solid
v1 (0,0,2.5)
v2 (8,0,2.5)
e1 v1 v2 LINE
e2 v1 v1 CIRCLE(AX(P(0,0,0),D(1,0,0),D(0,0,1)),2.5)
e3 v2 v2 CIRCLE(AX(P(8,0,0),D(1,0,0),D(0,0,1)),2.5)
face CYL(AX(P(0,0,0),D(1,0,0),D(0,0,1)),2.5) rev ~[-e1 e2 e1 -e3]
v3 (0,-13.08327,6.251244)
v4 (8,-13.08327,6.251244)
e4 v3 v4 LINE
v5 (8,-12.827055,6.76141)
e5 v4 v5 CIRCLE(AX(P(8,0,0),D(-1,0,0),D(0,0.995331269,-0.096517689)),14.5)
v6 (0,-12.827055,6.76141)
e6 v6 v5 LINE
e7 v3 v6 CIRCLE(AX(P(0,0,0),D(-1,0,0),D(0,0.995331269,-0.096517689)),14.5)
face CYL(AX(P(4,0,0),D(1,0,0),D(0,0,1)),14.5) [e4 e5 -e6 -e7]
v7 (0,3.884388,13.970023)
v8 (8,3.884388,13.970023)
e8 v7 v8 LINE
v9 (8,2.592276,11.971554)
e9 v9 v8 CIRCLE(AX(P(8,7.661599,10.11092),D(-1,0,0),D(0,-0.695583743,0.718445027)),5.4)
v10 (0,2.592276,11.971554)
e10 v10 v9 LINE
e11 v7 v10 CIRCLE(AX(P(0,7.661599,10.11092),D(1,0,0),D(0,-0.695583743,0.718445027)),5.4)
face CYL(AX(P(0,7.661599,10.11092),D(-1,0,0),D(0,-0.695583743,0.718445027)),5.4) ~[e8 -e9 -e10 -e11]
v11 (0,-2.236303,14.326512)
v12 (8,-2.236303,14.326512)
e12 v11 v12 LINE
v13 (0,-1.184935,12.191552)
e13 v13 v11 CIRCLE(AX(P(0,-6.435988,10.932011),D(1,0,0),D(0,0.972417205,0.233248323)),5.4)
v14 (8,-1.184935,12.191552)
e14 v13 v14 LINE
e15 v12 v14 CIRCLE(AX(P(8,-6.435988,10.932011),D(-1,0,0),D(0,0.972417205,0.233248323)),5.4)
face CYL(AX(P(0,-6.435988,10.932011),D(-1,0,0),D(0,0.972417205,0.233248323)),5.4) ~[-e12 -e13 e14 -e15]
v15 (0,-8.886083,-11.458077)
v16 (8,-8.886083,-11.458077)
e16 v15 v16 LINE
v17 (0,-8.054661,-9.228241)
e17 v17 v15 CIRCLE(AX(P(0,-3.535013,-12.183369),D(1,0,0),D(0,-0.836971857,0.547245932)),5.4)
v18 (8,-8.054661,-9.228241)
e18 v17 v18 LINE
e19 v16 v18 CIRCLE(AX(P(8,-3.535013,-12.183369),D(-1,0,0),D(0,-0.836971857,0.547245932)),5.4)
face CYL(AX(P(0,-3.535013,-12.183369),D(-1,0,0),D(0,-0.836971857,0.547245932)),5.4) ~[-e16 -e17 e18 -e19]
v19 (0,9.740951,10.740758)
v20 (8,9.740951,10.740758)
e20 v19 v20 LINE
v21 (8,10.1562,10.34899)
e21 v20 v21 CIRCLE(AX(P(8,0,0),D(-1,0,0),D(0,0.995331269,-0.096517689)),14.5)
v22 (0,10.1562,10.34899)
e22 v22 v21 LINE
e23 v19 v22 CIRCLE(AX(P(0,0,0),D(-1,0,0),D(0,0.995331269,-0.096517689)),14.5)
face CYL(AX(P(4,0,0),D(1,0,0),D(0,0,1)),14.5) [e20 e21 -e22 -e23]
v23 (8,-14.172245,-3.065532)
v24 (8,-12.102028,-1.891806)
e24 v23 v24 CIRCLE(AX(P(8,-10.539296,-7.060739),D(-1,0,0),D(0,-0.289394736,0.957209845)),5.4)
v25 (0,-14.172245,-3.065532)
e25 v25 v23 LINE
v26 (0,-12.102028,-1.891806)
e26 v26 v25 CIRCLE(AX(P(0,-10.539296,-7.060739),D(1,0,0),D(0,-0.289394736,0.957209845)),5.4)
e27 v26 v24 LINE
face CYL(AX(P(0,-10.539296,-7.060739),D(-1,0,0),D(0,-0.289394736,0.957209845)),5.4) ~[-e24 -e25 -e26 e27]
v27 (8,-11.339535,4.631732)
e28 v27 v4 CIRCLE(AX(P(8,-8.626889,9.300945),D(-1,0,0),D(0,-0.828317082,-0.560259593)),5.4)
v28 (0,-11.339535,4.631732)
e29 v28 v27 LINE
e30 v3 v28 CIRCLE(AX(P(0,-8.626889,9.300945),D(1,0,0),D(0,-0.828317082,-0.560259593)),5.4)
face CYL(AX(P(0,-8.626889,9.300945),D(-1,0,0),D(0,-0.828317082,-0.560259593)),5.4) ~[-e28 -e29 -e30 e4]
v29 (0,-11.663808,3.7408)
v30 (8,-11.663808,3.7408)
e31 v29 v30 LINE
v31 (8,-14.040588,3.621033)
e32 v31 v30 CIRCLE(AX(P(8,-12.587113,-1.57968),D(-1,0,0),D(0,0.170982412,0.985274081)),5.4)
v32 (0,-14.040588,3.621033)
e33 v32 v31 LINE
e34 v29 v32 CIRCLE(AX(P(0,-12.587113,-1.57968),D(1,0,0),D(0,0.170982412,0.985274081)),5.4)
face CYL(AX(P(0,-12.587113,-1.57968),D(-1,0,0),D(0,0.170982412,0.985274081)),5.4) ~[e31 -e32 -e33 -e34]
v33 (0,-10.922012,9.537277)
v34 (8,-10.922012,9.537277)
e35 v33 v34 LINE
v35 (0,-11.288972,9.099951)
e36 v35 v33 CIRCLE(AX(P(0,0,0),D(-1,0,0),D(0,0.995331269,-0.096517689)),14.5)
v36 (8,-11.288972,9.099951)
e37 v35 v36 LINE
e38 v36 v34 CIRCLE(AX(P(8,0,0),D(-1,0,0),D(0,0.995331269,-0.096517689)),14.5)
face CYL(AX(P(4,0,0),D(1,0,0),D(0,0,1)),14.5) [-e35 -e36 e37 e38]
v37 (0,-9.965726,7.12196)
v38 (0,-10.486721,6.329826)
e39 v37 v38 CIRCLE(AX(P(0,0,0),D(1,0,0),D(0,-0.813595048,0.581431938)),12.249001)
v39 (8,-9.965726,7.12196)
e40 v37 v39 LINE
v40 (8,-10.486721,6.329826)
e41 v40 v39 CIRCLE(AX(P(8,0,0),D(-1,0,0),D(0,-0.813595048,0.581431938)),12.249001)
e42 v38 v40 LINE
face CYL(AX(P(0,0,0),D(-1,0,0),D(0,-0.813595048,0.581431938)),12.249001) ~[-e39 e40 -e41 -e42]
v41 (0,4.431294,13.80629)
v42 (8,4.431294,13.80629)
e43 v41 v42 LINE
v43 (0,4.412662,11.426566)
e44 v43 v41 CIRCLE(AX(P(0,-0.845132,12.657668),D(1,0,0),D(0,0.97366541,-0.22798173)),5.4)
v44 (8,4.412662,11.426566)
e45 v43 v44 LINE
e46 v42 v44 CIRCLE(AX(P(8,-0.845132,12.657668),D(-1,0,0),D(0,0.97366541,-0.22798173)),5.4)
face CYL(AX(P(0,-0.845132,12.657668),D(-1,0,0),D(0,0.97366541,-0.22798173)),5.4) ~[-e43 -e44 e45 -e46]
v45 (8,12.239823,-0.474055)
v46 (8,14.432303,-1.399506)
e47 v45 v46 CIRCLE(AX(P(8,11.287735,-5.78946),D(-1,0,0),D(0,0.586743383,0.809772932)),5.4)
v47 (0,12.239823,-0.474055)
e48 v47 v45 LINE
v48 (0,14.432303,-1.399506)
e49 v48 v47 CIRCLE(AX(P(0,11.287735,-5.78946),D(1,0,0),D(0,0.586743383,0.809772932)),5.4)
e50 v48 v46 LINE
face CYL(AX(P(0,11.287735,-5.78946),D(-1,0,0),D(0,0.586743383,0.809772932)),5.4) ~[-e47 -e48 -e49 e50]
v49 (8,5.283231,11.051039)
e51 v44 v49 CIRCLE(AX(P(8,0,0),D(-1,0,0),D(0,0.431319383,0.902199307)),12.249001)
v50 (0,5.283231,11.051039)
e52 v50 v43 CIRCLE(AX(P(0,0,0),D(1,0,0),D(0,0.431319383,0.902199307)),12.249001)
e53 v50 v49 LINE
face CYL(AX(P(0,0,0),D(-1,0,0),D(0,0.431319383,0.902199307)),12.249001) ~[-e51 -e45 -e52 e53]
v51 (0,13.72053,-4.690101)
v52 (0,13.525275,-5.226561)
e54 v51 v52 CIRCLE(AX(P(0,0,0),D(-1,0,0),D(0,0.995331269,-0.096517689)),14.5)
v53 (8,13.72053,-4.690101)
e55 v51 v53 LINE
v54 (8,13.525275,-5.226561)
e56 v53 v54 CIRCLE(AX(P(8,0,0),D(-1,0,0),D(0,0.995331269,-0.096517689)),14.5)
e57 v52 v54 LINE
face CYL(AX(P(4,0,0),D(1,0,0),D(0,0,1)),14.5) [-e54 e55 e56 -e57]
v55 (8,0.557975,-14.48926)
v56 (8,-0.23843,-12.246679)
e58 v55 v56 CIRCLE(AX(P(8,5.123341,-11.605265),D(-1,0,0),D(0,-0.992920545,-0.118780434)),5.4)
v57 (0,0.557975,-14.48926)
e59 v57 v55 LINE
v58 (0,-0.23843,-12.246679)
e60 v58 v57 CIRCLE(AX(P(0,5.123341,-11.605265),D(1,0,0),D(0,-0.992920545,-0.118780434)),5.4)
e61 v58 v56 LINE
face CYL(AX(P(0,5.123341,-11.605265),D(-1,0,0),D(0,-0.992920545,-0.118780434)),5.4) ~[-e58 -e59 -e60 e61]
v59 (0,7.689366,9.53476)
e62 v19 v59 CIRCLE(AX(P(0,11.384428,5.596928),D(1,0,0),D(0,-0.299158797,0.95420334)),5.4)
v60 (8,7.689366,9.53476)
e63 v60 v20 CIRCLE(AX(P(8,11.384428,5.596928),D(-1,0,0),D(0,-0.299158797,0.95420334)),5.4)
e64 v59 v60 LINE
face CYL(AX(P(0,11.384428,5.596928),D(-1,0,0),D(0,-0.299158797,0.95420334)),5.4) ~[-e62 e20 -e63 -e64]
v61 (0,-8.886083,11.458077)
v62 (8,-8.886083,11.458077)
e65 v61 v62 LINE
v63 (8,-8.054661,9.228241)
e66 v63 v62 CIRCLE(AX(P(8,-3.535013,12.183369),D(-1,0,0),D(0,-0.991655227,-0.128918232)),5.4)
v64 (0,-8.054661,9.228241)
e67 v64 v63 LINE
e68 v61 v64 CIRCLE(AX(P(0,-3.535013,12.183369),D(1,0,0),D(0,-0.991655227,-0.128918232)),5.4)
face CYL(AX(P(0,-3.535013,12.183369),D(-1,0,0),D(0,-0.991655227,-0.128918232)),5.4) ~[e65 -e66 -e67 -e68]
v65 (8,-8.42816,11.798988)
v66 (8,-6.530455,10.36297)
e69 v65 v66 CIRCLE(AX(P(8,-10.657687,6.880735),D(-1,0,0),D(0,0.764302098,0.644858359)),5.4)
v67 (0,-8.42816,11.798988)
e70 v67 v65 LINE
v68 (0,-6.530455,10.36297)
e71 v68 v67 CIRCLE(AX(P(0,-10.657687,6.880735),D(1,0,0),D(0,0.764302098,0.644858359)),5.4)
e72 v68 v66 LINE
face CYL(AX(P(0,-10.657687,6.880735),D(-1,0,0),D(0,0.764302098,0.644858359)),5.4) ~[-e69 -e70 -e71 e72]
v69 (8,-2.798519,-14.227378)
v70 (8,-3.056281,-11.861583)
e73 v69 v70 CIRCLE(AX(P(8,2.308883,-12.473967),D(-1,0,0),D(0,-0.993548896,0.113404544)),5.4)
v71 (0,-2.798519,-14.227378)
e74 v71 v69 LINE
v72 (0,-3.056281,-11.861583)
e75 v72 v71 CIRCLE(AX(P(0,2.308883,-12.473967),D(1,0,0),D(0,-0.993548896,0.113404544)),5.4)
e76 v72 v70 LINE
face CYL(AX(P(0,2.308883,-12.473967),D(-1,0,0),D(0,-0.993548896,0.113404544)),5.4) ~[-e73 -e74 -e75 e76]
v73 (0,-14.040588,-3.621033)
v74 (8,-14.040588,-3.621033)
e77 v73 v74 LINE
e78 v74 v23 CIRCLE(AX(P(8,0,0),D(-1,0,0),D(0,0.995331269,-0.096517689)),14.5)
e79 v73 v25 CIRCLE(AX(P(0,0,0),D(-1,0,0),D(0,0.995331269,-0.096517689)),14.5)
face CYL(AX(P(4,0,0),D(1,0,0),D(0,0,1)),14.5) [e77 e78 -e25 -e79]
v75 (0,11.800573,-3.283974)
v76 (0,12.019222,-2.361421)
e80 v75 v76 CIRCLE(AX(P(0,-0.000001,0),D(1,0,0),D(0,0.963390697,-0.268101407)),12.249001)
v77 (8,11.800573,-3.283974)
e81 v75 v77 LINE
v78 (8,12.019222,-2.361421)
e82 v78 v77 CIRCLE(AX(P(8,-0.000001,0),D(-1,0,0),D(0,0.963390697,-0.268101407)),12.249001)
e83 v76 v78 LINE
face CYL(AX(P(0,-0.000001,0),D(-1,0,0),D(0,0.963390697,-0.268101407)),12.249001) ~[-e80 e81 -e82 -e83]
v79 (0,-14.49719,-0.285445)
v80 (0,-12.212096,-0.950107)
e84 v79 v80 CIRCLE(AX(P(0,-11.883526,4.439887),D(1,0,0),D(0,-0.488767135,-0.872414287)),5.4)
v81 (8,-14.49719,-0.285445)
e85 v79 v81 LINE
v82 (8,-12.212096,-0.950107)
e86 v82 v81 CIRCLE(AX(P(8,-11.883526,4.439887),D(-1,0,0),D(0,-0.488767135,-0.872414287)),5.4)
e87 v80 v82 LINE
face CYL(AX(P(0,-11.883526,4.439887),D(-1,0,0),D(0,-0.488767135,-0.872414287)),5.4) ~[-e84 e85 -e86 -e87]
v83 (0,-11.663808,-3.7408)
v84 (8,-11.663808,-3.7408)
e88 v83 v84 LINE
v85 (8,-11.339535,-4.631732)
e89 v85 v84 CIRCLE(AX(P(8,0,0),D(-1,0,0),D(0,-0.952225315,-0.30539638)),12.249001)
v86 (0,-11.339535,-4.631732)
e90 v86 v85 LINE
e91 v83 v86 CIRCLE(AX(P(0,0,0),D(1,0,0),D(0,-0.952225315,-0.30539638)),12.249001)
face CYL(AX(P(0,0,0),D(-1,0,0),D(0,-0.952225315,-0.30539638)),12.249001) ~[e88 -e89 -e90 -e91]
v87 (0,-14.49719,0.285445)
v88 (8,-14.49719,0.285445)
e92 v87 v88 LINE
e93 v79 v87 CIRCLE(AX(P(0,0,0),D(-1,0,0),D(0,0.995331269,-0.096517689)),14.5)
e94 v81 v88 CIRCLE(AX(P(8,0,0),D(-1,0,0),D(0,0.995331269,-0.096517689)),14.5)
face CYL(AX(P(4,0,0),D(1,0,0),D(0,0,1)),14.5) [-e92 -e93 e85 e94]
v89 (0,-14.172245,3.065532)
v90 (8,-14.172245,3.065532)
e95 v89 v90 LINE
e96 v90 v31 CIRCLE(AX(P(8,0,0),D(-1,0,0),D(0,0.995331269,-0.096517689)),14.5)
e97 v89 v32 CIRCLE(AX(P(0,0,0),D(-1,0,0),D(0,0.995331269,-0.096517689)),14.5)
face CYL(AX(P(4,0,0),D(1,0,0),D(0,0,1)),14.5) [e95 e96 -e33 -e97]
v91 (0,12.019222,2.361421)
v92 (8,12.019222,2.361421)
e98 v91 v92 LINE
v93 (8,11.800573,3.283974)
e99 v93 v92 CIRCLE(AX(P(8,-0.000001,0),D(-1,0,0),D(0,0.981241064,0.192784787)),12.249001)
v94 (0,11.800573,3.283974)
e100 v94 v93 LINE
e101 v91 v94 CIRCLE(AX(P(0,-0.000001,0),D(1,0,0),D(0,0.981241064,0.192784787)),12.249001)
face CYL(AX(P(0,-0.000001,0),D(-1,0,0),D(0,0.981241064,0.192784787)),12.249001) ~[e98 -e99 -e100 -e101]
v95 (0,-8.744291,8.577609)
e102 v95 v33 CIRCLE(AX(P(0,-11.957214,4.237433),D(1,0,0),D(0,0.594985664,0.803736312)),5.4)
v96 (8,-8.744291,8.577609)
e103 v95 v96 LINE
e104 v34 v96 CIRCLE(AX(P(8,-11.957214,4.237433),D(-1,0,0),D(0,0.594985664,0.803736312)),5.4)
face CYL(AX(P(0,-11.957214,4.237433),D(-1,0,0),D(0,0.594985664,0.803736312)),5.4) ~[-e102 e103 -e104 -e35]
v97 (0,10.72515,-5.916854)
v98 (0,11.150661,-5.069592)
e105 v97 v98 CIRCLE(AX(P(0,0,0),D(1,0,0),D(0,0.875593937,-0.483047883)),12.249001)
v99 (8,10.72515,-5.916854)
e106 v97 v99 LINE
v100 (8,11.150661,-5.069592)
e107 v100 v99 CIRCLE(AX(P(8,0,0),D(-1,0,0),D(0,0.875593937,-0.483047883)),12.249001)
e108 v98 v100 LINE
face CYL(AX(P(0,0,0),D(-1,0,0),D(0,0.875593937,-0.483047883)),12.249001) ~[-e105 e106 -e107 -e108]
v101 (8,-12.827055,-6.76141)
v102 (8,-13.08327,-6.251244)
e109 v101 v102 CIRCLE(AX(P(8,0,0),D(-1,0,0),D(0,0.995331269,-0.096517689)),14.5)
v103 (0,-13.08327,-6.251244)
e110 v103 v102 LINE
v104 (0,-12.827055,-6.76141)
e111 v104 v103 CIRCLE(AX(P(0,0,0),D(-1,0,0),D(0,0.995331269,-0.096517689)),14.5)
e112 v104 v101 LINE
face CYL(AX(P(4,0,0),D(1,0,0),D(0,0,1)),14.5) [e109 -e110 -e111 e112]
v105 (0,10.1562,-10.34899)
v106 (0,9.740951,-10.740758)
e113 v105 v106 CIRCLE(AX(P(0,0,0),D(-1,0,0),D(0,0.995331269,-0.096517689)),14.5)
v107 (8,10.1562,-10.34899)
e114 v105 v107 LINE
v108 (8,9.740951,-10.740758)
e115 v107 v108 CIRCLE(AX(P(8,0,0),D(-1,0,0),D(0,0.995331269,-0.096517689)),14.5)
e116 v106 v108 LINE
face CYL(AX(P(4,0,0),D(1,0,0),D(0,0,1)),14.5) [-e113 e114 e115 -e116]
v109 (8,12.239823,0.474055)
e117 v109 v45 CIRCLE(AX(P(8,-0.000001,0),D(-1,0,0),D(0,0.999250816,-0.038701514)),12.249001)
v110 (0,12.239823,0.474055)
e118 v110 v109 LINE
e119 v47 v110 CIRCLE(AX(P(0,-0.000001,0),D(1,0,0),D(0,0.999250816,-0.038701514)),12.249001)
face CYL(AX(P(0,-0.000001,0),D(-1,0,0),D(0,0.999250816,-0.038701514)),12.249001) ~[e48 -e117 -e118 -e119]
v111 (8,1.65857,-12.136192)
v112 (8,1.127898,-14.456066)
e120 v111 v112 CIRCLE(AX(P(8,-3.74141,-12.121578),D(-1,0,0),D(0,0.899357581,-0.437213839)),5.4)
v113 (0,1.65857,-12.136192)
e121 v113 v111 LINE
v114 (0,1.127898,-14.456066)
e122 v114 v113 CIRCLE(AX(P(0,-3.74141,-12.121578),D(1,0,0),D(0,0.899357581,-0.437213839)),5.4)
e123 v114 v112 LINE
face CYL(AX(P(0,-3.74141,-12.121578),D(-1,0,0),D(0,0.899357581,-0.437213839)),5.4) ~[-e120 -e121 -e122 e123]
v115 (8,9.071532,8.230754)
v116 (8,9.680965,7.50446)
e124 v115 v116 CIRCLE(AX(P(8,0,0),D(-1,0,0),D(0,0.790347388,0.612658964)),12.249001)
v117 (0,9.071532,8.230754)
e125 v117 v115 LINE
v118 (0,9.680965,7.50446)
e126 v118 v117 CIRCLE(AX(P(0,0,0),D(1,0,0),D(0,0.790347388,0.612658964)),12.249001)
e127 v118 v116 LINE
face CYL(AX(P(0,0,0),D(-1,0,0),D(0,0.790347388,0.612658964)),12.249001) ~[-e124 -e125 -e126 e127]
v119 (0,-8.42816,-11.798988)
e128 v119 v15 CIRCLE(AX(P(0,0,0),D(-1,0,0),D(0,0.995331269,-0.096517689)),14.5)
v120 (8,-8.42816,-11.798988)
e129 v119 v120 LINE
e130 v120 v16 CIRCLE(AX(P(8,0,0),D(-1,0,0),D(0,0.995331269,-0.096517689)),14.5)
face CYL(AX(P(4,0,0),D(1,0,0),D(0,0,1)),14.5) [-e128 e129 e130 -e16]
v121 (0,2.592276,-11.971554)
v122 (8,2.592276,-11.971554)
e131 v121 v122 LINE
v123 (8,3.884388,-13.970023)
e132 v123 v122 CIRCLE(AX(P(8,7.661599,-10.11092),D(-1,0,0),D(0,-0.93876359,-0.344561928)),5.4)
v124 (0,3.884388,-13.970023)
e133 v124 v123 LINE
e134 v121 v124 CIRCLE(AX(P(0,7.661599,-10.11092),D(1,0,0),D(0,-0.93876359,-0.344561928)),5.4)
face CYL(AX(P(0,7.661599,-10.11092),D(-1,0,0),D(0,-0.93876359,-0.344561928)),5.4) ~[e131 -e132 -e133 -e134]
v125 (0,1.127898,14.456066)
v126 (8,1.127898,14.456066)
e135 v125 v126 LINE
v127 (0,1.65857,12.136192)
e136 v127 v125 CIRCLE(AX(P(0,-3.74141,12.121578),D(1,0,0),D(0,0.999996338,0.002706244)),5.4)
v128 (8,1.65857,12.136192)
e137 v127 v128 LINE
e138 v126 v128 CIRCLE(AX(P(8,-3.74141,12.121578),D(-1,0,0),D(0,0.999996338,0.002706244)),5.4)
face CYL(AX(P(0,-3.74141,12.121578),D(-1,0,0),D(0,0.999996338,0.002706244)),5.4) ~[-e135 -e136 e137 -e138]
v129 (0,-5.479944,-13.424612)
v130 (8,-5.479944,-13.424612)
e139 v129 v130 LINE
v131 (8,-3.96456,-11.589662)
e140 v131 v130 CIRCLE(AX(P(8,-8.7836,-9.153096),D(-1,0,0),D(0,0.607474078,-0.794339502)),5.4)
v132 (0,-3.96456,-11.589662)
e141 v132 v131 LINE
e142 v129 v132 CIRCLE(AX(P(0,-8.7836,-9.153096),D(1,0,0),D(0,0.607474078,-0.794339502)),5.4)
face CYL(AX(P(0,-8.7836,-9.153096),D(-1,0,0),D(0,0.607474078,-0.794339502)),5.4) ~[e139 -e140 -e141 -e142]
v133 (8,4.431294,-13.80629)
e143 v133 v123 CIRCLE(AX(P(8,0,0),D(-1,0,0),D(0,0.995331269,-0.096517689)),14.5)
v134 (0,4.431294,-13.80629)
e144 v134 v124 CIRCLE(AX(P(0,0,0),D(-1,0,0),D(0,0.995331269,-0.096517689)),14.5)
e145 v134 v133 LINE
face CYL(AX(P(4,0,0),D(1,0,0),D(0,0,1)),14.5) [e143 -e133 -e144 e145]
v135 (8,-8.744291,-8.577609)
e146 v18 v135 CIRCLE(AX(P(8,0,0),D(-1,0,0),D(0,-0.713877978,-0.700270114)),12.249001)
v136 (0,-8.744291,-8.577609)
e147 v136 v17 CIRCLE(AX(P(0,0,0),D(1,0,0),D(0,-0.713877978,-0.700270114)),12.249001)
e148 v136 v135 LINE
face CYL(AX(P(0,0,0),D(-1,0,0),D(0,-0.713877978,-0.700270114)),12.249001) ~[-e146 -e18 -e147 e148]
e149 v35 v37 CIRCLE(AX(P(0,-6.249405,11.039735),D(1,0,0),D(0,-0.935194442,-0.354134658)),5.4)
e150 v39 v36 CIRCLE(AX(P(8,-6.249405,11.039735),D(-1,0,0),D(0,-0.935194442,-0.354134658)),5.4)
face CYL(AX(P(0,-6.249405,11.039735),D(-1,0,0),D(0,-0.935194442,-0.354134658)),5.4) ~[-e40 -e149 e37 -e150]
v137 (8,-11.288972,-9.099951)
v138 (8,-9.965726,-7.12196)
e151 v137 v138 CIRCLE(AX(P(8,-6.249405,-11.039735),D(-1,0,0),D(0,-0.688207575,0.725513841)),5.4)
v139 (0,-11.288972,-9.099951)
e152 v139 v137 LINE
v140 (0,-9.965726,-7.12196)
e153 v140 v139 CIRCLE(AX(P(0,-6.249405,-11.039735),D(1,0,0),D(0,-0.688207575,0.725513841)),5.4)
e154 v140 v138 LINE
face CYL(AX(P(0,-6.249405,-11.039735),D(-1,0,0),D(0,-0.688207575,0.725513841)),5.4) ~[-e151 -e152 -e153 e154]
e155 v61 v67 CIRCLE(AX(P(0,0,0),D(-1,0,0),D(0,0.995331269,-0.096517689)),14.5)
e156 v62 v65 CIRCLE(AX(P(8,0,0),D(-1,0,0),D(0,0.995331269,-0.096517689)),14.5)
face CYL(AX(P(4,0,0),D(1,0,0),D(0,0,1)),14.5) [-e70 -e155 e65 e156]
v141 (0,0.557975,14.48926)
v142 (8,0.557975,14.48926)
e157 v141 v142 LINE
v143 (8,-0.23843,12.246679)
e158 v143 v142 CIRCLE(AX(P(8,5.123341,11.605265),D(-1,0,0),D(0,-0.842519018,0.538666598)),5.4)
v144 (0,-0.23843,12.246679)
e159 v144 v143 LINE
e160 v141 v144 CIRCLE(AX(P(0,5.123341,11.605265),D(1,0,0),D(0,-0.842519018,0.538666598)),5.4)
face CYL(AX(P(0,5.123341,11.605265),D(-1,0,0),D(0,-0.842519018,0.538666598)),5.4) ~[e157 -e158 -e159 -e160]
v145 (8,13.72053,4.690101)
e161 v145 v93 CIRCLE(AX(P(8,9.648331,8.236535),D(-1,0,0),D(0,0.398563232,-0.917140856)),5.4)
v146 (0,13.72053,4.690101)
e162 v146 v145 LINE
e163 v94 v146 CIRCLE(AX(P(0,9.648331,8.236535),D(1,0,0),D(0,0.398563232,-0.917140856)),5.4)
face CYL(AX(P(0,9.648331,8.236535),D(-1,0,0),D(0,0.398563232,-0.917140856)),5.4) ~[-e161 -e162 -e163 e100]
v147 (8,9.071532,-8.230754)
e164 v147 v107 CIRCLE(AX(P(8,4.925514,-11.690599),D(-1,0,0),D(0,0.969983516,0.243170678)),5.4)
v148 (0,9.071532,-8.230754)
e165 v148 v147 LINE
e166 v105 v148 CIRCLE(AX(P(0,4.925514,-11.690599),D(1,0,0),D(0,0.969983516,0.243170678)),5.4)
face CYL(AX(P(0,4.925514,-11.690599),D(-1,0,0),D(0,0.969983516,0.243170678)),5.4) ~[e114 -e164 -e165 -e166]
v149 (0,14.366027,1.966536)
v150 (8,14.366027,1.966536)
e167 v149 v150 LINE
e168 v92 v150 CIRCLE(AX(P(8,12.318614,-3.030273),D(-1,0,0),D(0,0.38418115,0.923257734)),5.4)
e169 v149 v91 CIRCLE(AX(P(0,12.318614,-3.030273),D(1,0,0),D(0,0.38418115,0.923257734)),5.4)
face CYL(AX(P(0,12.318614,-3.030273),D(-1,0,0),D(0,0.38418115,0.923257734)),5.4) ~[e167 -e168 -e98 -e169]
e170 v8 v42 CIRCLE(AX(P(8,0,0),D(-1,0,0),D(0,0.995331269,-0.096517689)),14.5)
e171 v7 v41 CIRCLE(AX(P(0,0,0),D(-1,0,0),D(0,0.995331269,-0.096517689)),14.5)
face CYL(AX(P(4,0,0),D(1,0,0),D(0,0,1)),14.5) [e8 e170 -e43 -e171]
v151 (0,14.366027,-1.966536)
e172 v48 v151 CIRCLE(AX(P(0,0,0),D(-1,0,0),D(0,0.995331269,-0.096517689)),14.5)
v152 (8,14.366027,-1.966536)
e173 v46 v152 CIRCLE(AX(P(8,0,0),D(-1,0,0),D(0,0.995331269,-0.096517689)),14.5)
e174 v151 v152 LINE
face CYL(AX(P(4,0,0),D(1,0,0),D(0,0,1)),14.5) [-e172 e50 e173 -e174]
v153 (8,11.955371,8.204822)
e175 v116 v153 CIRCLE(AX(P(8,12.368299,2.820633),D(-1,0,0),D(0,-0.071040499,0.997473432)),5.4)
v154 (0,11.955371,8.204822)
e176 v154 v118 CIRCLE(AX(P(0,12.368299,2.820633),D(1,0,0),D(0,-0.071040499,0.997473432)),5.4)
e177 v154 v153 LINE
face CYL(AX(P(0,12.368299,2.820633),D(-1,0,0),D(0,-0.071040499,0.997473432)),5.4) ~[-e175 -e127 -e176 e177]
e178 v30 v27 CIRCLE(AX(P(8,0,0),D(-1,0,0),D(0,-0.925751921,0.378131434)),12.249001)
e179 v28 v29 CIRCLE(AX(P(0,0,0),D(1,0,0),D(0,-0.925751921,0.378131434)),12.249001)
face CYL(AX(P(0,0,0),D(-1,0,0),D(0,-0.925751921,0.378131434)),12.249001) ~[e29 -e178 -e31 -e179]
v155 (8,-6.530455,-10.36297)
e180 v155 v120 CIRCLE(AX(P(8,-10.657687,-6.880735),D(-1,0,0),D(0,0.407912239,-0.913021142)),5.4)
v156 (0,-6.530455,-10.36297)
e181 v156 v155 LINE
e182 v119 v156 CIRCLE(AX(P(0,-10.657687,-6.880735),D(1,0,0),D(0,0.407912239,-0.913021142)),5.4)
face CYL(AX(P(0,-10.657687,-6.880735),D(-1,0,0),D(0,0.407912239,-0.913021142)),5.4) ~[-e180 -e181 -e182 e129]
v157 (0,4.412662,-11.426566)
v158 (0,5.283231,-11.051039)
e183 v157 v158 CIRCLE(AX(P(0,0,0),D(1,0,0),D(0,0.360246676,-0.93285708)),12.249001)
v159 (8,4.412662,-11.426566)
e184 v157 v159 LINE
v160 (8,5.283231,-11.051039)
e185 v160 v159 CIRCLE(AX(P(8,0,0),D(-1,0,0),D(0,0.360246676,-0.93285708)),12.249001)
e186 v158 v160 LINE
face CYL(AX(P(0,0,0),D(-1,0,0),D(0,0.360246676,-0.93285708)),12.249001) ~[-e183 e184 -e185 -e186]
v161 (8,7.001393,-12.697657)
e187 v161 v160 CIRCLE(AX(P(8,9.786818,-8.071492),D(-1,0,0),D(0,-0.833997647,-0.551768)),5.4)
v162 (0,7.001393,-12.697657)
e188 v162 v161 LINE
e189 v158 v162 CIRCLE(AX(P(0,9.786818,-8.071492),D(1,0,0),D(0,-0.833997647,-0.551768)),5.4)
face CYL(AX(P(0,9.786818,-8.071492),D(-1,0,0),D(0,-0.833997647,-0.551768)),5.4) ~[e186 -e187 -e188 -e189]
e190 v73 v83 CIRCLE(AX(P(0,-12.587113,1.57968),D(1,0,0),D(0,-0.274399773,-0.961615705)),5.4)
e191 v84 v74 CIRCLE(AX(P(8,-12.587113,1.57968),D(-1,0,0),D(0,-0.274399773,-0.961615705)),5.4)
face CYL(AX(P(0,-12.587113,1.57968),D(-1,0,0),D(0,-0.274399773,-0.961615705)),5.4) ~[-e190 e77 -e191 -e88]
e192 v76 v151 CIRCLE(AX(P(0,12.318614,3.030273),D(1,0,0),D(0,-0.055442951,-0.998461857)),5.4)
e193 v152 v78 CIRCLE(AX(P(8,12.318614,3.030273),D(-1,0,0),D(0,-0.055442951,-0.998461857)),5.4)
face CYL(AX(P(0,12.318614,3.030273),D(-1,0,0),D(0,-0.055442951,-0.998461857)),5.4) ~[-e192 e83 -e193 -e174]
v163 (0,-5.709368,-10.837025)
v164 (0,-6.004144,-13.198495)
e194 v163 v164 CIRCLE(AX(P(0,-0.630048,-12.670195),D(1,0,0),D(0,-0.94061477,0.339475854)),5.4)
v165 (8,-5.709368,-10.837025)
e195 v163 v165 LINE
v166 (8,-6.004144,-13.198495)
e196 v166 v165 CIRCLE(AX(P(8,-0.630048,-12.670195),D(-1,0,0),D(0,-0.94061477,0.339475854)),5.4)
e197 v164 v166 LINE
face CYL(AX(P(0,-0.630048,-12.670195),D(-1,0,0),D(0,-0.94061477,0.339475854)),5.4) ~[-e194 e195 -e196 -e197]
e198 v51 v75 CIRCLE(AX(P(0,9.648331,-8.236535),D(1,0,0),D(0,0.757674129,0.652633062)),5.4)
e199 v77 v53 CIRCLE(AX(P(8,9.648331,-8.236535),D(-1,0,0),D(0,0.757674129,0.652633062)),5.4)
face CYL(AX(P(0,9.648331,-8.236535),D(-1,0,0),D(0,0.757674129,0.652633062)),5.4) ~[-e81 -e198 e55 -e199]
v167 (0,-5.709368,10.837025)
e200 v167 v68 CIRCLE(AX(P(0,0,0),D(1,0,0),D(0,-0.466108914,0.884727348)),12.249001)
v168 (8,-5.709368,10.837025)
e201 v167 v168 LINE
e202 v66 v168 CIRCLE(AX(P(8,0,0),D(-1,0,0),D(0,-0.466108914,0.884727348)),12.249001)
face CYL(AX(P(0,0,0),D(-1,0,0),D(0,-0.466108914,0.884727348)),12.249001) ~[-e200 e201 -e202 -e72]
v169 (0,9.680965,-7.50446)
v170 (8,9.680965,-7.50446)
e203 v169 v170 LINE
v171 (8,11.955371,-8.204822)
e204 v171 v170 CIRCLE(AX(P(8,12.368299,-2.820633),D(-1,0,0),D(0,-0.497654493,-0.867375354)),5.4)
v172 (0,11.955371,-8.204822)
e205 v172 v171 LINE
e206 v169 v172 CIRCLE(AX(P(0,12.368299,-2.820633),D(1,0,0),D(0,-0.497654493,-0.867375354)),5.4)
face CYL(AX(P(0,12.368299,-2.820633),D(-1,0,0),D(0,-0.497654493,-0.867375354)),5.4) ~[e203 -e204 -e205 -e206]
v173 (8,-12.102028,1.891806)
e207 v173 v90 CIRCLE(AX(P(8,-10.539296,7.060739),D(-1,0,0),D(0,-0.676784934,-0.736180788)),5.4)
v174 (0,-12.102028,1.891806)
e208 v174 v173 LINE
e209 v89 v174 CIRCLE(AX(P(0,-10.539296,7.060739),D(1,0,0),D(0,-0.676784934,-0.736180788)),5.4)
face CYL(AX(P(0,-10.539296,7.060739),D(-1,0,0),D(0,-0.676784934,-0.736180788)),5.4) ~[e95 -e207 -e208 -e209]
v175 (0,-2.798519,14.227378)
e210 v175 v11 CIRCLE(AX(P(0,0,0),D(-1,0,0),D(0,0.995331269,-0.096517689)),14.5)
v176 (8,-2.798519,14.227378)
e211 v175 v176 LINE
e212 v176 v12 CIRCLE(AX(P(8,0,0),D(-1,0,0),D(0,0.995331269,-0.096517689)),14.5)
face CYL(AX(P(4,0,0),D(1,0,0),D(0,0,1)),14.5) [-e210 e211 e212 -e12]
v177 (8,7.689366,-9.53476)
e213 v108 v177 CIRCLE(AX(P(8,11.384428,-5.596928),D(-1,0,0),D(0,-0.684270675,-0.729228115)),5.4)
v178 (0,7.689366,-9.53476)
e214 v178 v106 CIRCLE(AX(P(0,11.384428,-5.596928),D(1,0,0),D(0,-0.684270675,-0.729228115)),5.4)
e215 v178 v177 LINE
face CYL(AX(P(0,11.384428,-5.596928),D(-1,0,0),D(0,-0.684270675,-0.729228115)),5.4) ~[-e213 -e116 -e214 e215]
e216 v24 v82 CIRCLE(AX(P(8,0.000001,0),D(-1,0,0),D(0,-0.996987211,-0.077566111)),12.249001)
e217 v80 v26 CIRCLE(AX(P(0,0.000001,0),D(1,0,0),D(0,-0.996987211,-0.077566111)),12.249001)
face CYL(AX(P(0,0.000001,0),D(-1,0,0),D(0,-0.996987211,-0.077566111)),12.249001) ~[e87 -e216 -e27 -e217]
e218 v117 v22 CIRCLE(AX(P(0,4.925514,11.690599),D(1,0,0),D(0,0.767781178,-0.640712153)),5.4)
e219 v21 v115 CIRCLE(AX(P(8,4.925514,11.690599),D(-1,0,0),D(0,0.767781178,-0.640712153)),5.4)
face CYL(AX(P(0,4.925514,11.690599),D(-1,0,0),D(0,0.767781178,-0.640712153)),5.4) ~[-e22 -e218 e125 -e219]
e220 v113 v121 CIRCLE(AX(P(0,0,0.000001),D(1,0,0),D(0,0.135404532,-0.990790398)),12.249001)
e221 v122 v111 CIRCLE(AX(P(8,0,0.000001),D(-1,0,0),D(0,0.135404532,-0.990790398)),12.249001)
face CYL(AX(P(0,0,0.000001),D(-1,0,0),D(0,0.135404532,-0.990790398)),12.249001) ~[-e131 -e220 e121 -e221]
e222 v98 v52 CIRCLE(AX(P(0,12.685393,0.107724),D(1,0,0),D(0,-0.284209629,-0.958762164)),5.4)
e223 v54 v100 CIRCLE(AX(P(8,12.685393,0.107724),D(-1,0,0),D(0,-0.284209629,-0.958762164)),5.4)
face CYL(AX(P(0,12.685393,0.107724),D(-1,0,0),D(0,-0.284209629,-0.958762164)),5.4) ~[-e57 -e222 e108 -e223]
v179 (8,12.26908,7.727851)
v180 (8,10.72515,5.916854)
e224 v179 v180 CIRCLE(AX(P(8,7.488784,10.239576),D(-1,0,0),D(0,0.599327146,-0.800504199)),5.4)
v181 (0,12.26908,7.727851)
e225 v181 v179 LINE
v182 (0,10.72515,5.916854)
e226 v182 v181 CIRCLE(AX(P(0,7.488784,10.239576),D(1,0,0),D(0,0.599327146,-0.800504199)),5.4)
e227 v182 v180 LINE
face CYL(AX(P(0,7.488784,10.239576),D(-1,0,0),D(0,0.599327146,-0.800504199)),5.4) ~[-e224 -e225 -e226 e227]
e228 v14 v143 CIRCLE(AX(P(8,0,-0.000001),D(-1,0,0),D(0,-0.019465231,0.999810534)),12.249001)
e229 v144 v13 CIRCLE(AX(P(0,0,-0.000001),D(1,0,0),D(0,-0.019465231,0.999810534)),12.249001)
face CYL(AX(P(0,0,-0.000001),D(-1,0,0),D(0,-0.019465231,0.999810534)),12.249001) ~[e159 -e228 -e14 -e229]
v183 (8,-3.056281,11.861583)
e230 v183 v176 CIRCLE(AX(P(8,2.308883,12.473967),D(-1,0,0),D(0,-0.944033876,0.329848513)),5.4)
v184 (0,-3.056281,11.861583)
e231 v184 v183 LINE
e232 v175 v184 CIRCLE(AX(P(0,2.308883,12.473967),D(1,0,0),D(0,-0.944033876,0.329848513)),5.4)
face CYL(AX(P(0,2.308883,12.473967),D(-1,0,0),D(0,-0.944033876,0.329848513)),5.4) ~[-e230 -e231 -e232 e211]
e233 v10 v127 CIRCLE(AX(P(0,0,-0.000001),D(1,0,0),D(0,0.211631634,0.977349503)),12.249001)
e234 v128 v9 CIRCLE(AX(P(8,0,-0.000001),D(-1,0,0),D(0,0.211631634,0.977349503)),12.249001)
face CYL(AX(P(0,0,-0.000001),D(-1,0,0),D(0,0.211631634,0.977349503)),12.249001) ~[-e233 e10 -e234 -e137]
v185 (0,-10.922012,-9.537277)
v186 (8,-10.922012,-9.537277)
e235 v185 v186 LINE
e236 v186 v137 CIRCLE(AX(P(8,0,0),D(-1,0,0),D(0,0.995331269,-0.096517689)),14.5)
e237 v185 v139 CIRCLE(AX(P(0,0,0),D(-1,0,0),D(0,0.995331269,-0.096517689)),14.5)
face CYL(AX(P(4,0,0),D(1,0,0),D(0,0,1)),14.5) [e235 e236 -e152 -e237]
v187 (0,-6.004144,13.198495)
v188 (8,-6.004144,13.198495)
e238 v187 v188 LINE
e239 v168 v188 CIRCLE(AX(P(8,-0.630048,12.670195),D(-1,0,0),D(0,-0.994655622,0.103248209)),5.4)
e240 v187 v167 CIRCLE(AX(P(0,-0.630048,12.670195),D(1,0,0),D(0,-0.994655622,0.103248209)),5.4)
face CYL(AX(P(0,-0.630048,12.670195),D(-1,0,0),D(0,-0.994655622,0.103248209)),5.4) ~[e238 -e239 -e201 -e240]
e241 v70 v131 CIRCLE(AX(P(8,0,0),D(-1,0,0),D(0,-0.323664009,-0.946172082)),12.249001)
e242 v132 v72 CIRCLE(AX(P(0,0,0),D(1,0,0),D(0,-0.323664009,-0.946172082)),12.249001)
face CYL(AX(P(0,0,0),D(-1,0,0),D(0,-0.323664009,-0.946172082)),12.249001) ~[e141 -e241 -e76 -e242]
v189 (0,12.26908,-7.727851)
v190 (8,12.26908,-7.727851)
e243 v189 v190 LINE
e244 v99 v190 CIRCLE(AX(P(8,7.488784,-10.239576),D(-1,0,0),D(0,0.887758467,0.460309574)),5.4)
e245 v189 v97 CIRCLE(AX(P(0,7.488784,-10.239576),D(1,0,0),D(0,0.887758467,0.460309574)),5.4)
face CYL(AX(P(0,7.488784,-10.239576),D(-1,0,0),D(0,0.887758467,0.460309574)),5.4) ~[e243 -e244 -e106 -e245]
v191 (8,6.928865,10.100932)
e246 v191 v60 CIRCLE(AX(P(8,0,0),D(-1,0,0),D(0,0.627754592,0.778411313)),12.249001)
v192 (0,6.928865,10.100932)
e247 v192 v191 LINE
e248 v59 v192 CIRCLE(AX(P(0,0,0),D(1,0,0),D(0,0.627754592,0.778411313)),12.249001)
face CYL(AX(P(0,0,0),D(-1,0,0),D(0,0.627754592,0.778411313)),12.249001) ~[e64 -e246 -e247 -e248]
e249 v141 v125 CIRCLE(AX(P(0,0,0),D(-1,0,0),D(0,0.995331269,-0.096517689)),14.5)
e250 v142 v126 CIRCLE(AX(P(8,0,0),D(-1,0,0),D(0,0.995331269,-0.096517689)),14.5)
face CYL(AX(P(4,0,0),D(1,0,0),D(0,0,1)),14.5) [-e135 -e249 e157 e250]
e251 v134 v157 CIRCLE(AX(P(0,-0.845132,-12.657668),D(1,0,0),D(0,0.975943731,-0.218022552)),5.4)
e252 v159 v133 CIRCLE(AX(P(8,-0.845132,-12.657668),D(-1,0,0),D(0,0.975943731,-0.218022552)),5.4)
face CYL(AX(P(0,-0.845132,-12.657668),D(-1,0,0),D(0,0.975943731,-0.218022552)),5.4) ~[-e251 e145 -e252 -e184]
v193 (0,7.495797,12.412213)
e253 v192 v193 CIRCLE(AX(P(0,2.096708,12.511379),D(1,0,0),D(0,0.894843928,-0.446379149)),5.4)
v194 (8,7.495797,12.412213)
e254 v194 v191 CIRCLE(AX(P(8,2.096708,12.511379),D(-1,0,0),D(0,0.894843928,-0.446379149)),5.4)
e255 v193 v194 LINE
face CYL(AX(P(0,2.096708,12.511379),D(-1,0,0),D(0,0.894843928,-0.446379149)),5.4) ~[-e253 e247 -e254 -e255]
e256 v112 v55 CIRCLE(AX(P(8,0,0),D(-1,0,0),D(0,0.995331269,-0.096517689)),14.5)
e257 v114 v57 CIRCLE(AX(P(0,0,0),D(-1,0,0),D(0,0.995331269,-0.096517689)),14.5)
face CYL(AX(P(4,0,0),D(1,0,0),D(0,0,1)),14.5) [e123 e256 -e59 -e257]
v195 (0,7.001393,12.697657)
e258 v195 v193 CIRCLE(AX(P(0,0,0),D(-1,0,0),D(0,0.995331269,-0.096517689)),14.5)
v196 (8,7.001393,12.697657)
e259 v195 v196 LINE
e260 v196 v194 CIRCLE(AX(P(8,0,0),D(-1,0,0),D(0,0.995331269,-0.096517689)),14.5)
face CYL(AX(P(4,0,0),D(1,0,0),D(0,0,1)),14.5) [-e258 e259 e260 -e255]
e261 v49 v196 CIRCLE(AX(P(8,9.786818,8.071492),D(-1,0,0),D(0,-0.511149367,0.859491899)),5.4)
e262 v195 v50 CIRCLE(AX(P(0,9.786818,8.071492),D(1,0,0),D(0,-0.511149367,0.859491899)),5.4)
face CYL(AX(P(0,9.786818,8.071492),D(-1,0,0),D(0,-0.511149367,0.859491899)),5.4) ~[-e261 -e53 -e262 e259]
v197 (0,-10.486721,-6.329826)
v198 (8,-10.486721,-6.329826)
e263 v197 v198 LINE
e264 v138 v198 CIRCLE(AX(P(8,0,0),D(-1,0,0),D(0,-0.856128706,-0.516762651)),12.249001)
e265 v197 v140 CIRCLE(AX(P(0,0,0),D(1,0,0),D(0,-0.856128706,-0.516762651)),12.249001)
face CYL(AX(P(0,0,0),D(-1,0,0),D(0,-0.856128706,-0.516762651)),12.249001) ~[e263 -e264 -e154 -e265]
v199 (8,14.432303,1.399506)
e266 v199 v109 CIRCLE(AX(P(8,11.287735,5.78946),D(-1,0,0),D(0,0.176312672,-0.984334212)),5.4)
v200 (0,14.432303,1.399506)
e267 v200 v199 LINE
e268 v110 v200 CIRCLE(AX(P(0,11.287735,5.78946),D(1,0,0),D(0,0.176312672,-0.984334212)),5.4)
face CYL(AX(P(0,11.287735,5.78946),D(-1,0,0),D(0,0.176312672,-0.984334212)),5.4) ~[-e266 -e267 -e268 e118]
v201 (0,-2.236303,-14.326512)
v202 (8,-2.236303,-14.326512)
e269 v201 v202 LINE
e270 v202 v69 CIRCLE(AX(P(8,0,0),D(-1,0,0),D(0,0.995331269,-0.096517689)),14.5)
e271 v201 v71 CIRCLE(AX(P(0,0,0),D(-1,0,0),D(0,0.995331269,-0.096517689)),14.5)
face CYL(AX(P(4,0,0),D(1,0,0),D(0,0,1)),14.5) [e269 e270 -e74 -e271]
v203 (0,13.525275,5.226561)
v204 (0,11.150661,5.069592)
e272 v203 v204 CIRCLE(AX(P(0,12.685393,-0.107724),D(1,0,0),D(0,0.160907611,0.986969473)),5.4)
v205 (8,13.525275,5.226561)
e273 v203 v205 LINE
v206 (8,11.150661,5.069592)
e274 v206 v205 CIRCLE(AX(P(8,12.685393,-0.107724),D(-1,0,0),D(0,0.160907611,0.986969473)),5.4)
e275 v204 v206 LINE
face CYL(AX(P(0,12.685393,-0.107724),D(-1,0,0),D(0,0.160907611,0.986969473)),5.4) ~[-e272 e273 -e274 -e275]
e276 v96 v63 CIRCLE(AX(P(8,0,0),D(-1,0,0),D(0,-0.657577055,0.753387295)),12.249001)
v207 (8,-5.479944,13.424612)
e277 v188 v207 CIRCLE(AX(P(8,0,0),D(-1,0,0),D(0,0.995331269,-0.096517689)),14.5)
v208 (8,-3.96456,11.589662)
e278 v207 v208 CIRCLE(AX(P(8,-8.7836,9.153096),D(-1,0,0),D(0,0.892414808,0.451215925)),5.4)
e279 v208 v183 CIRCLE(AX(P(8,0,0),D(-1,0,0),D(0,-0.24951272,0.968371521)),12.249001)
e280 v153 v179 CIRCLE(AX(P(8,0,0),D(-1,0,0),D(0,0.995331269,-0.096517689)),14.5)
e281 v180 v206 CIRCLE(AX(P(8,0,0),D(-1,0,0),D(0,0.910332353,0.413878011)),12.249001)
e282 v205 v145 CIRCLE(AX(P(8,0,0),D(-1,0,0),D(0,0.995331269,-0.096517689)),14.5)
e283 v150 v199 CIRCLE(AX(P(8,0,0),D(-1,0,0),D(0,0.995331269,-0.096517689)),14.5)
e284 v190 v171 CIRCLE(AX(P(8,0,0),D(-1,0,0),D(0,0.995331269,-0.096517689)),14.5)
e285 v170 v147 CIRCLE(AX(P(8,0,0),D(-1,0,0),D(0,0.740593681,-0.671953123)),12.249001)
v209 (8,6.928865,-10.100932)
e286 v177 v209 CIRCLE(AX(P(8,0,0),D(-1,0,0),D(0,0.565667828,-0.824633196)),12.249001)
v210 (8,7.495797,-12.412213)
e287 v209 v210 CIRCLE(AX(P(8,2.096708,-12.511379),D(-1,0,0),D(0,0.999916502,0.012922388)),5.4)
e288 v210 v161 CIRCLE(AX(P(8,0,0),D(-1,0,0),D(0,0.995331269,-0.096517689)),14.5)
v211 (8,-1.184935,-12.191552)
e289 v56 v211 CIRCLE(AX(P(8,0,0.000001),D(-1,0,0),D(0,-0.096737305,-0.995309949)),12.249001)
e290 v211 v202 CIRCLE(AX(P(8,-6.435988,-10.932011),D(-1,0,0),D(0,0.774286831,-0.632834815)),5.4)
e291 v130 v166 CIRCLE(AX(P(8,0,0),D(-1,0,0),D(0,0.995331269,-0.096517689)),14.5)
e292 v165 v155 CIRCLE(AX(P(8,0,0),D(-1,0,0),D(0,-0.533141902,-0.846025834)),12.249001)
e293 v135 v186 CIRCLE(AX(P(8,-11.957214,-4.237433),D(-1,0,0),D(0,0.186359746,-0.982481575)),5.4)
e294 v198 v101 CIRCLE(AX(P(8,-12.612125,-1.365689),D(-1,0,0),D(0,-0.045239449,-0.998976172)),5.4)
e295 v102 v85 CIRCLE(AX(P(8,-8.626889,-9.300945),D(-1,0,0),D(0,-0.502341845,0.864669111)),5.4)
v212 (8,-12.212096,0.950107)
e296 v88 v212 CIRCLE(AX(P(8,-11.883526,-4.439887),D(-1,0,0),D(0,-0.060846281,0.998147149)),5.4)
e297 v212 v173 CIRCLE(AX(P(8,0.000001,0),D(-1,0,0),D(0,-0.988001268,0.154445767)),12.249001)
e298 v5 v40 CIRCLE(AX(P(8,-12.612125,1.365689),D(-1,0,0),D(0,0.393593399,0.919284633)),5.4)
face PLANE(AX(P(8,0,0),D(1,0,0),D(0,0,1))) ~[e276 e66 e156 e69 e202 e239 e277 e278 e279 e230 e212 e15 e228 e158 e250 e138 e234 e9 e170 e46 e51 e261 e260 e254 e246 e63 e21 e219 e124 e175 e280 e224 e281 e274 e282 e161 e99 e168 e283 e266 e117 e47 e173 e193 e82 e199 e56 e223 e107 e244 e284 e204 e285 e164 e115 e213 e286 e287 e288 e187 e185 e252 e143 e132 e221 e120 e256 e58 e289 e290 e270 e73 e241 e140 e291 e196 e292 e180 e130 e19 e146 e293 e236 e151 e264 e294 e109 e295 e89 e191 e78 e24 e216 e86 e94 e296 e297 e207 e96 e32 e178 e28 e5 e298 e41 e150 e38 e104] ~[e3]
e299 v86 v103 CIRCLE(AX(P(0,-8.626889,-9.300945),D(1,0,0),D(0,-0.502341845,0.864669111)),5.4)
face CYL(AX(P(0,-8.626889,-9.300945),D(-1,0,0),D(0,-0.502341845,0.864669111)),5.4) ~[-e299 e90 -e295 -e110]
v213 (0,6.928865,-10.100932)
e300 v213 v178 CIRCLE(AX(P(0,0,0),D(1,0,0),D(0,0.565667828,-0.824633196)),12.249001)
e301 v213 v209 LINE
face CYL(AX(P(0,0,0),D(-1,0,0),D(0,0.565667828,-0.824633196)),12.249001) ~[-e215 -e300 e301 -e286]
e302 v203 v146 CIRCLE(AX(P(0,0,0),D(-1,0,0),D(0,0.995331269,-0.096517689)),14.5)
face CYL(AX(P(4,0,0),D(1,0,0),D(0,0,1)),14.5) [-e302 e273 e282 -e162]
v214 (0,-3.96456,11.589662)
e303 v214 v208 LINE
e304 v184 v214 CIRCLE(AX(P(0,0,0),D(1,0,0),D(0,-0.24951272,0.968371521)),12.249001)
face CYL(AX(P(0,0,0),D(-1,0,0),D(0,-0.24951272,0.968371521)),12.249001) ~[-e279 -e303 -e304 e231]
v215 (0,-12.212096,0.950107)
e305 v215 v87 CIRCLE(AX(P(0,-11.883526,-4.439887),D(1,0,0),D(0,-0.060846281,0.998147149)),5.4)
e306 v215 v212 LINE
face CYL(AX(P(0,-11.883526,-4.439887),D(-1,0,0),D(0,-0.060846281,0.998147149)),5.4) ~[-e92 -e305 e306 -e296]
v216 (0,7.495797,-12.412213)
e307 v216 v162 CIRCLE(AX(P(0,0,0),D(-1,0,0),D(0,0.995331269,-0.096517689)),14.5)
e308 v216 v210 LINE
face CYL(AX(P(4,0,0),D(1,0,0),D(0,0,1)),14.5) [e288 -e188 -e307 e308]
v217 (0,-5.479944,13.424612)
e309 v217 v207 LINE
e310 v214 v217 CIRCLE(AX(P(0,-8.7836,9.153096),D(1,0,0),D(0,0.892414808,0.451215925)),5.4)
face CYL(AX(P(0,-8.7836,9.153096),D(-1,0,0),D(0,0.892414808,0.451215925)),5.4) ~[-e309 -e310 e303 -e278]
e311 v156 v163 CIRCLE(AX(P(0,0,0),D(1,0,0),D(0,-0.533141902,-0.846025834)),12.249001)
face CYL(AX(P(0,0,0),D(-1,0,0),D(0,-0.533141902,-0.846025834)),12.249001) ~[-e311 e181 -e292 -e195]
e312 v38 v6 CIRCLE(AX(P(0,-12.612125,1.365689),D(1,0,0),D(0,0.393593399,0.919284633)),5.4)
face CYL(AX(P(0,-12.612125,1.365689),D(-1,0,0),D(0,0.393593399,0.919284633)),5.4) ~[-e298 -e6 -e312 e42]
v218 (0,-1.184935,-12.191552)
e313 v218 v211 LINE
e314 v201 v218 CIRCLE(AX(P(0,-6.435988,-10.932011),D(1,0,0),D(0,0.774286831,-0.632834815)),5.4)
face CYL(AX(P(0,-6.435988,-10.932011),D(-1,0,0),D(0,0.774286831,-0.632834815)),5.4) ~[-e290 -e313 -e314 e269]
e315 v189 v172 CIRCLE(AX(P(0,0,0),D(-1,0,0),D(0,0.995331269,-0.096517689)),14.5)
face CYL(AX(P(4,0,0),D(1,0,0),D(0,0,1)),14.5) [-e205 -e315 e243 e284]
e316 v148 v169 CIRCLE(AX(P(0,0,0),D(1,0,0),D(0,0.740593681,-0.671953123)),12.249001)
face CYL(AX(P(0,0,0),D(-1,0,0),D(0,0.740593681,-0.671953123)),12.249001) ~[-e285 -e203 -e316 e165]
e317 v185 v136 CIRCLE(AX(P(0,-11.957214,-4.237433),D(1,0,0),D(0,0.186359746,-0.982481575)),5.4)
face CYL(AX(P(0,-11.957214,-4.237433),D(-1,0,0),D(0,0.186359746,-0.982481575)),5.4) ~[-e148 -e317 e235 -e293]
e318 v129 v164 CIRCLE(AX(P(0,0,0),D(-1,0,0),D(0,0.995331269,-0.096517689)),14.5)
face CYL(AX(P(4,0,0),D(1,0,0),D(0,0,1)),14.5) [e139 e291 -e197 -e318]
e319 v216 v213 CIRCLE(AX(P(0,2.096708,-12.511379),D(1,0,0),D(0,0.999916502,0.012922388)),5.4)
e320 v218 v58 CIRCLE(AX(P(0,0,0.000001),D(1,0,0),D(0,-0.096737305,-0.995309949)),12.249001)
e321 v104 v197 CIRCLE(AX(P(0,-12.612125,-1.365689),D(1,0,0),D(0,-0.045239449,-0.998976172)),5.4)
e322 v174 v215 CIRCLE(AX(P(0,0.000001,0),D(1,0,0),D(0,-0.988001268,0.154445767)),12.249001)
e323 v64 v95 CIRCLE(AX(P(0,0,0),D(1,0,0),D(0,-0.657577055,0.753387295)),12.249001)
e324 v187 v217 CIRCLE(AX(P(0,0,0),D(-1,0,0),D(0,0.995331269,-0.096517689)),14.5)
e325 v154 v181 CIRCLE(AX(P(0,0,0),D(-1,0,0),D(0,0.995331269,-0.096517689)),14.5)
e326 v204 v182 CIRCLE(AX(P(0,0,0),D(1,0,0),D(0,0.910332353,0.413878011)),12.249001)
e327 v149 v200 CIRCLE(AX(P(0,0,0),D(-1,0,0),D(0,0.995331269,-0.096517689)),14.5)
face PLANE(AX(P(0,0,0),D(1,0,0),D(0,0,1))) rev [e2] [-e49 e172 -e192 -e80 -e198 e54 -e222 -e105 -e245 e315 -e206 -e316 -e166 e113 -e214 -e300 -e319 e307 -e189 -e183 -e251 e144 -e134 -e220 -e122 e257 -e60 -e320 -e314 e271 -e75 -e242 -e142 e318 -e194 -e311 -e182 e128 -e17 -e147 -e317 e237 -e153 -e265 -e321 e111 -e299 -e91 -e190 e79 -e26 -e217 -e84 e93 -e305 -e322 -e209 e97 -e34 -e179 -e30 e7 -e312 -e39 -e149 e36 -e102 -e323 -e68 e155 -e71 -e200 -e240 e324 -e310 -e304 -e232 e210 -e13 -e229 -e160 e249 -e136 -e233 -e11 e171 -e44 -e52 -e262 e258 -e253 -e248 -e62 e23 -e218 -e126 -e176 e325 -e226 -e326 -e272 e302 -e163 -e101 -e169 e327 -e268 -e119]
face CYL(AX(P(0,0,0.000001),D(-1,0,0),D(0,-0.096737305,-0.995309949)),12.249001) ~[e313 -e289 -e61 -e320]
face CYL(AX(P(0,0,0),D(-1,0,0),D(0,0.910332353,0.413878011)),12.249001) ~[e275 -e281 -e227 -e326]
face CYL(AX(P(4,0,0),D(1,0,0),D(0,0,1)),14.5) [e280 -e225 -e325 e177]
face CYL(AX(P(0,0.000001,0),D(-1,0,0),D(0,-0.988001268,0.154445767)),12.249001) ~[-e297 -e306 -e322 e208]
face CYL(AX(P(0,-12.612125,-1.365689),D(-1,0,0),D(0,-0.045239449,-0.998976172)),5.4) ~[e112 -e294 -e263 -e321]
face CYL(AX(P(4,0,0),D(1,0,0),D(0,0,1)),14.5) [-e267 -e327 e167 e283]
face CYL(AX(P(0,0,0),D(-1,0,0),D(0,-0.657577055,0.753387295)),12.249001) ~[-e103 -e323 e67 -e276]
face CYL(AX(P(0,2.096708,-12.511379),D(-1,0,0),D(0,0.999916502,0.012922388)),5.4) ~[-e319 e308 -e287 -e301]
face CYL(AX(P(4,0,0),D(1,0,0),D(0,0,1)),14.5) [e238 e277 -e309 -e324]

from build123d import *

# Parameters (mm, degrees)
BASPROSKE_W     = 8
BASPROSKE_H     = 14.5
TOOTHCUT_DEPTH  = 23.011360703
TEETHCUTS_COUNT = 27
TEETHCUTS_ANGLE = 346.666666667
BORSKE_R        = 2.5
BORE_DEPTH      = 50.0000508


with BuildPart() as part:
    # BasProSke → Base-Revolve (revolve)
    with BuildSketch(Plane(origin=(0, 0, 0), x_dir=(1, 0, 0), z_dir=(0, 1, 0)), mode=Mode.PRIVATE) as base_revolve_sk:
        with Locations((4, 7.25)):
            Rectangle(BASPROSKE_W, BASPROSKE_H)
    revolve(base_revolve_sk.sketch.rotate(Axis((-10, 0, 0), (1, 0, 0)), 180), axis=Axis((-10, 0, 0), (1, 0, 0)))

    # TooCutSke → ToothCut (cut, through all)
    with BuildSketch(Plane(origin=(0, 0, 0), x_dir=(0, 0, -1), z_dir=(1, 0, 0))):
        with BuildLine():
            ThreePointArc((0.474054864, 12.239823242), (0, 12.249), (-0.474054864, 12.239823242))
            ThreePointArc((-0.474054864, 12.239823242), (-0.820231692, 13.40120918), (-1.416685779, 14.456149092))
            ThreePointArc((-1.416685779, 14.456149092), (0, 14.5254), (1.416685779, 14.456149092))
            ThreePointArc((1.416685779, 14.456149092), (0.820231692, 13.40120918), (0.474054864, 12.239823242))
        make_face()
    toothcut = extrude(amount=TOOTHCUT_DEPTH, mode=Mode.SUBTRACT)

    # TeethCuts: ToothCut ×27 about axis
    teethcuts_axis = Axis((-10, 0, 0), (1, 0, 0))
    for i in range(1, TEETHCUTS_COUNT):
        add(toothcut.rotate(teethcuts_axis, i * TEETHCUTS_ANGLE / (TEETHCUTS_COUNT - 1)), mode=Mode.SUBTRACT)

    # BorSke → Bore (cut, symmetric)
    with BuildSketch(Plane(origin=(0, 0, 0), x_dir=(0, 0, -1), z_dir=(1, 0, 0))):
        with Locations(Location((0, 0, 0), (0, 0, 180))):
            Circle(BORSKE_R)
    extrude(amount=BORE_DEPTH, both=True, mode=Mode.SUBTRACT)


solid = part.part
